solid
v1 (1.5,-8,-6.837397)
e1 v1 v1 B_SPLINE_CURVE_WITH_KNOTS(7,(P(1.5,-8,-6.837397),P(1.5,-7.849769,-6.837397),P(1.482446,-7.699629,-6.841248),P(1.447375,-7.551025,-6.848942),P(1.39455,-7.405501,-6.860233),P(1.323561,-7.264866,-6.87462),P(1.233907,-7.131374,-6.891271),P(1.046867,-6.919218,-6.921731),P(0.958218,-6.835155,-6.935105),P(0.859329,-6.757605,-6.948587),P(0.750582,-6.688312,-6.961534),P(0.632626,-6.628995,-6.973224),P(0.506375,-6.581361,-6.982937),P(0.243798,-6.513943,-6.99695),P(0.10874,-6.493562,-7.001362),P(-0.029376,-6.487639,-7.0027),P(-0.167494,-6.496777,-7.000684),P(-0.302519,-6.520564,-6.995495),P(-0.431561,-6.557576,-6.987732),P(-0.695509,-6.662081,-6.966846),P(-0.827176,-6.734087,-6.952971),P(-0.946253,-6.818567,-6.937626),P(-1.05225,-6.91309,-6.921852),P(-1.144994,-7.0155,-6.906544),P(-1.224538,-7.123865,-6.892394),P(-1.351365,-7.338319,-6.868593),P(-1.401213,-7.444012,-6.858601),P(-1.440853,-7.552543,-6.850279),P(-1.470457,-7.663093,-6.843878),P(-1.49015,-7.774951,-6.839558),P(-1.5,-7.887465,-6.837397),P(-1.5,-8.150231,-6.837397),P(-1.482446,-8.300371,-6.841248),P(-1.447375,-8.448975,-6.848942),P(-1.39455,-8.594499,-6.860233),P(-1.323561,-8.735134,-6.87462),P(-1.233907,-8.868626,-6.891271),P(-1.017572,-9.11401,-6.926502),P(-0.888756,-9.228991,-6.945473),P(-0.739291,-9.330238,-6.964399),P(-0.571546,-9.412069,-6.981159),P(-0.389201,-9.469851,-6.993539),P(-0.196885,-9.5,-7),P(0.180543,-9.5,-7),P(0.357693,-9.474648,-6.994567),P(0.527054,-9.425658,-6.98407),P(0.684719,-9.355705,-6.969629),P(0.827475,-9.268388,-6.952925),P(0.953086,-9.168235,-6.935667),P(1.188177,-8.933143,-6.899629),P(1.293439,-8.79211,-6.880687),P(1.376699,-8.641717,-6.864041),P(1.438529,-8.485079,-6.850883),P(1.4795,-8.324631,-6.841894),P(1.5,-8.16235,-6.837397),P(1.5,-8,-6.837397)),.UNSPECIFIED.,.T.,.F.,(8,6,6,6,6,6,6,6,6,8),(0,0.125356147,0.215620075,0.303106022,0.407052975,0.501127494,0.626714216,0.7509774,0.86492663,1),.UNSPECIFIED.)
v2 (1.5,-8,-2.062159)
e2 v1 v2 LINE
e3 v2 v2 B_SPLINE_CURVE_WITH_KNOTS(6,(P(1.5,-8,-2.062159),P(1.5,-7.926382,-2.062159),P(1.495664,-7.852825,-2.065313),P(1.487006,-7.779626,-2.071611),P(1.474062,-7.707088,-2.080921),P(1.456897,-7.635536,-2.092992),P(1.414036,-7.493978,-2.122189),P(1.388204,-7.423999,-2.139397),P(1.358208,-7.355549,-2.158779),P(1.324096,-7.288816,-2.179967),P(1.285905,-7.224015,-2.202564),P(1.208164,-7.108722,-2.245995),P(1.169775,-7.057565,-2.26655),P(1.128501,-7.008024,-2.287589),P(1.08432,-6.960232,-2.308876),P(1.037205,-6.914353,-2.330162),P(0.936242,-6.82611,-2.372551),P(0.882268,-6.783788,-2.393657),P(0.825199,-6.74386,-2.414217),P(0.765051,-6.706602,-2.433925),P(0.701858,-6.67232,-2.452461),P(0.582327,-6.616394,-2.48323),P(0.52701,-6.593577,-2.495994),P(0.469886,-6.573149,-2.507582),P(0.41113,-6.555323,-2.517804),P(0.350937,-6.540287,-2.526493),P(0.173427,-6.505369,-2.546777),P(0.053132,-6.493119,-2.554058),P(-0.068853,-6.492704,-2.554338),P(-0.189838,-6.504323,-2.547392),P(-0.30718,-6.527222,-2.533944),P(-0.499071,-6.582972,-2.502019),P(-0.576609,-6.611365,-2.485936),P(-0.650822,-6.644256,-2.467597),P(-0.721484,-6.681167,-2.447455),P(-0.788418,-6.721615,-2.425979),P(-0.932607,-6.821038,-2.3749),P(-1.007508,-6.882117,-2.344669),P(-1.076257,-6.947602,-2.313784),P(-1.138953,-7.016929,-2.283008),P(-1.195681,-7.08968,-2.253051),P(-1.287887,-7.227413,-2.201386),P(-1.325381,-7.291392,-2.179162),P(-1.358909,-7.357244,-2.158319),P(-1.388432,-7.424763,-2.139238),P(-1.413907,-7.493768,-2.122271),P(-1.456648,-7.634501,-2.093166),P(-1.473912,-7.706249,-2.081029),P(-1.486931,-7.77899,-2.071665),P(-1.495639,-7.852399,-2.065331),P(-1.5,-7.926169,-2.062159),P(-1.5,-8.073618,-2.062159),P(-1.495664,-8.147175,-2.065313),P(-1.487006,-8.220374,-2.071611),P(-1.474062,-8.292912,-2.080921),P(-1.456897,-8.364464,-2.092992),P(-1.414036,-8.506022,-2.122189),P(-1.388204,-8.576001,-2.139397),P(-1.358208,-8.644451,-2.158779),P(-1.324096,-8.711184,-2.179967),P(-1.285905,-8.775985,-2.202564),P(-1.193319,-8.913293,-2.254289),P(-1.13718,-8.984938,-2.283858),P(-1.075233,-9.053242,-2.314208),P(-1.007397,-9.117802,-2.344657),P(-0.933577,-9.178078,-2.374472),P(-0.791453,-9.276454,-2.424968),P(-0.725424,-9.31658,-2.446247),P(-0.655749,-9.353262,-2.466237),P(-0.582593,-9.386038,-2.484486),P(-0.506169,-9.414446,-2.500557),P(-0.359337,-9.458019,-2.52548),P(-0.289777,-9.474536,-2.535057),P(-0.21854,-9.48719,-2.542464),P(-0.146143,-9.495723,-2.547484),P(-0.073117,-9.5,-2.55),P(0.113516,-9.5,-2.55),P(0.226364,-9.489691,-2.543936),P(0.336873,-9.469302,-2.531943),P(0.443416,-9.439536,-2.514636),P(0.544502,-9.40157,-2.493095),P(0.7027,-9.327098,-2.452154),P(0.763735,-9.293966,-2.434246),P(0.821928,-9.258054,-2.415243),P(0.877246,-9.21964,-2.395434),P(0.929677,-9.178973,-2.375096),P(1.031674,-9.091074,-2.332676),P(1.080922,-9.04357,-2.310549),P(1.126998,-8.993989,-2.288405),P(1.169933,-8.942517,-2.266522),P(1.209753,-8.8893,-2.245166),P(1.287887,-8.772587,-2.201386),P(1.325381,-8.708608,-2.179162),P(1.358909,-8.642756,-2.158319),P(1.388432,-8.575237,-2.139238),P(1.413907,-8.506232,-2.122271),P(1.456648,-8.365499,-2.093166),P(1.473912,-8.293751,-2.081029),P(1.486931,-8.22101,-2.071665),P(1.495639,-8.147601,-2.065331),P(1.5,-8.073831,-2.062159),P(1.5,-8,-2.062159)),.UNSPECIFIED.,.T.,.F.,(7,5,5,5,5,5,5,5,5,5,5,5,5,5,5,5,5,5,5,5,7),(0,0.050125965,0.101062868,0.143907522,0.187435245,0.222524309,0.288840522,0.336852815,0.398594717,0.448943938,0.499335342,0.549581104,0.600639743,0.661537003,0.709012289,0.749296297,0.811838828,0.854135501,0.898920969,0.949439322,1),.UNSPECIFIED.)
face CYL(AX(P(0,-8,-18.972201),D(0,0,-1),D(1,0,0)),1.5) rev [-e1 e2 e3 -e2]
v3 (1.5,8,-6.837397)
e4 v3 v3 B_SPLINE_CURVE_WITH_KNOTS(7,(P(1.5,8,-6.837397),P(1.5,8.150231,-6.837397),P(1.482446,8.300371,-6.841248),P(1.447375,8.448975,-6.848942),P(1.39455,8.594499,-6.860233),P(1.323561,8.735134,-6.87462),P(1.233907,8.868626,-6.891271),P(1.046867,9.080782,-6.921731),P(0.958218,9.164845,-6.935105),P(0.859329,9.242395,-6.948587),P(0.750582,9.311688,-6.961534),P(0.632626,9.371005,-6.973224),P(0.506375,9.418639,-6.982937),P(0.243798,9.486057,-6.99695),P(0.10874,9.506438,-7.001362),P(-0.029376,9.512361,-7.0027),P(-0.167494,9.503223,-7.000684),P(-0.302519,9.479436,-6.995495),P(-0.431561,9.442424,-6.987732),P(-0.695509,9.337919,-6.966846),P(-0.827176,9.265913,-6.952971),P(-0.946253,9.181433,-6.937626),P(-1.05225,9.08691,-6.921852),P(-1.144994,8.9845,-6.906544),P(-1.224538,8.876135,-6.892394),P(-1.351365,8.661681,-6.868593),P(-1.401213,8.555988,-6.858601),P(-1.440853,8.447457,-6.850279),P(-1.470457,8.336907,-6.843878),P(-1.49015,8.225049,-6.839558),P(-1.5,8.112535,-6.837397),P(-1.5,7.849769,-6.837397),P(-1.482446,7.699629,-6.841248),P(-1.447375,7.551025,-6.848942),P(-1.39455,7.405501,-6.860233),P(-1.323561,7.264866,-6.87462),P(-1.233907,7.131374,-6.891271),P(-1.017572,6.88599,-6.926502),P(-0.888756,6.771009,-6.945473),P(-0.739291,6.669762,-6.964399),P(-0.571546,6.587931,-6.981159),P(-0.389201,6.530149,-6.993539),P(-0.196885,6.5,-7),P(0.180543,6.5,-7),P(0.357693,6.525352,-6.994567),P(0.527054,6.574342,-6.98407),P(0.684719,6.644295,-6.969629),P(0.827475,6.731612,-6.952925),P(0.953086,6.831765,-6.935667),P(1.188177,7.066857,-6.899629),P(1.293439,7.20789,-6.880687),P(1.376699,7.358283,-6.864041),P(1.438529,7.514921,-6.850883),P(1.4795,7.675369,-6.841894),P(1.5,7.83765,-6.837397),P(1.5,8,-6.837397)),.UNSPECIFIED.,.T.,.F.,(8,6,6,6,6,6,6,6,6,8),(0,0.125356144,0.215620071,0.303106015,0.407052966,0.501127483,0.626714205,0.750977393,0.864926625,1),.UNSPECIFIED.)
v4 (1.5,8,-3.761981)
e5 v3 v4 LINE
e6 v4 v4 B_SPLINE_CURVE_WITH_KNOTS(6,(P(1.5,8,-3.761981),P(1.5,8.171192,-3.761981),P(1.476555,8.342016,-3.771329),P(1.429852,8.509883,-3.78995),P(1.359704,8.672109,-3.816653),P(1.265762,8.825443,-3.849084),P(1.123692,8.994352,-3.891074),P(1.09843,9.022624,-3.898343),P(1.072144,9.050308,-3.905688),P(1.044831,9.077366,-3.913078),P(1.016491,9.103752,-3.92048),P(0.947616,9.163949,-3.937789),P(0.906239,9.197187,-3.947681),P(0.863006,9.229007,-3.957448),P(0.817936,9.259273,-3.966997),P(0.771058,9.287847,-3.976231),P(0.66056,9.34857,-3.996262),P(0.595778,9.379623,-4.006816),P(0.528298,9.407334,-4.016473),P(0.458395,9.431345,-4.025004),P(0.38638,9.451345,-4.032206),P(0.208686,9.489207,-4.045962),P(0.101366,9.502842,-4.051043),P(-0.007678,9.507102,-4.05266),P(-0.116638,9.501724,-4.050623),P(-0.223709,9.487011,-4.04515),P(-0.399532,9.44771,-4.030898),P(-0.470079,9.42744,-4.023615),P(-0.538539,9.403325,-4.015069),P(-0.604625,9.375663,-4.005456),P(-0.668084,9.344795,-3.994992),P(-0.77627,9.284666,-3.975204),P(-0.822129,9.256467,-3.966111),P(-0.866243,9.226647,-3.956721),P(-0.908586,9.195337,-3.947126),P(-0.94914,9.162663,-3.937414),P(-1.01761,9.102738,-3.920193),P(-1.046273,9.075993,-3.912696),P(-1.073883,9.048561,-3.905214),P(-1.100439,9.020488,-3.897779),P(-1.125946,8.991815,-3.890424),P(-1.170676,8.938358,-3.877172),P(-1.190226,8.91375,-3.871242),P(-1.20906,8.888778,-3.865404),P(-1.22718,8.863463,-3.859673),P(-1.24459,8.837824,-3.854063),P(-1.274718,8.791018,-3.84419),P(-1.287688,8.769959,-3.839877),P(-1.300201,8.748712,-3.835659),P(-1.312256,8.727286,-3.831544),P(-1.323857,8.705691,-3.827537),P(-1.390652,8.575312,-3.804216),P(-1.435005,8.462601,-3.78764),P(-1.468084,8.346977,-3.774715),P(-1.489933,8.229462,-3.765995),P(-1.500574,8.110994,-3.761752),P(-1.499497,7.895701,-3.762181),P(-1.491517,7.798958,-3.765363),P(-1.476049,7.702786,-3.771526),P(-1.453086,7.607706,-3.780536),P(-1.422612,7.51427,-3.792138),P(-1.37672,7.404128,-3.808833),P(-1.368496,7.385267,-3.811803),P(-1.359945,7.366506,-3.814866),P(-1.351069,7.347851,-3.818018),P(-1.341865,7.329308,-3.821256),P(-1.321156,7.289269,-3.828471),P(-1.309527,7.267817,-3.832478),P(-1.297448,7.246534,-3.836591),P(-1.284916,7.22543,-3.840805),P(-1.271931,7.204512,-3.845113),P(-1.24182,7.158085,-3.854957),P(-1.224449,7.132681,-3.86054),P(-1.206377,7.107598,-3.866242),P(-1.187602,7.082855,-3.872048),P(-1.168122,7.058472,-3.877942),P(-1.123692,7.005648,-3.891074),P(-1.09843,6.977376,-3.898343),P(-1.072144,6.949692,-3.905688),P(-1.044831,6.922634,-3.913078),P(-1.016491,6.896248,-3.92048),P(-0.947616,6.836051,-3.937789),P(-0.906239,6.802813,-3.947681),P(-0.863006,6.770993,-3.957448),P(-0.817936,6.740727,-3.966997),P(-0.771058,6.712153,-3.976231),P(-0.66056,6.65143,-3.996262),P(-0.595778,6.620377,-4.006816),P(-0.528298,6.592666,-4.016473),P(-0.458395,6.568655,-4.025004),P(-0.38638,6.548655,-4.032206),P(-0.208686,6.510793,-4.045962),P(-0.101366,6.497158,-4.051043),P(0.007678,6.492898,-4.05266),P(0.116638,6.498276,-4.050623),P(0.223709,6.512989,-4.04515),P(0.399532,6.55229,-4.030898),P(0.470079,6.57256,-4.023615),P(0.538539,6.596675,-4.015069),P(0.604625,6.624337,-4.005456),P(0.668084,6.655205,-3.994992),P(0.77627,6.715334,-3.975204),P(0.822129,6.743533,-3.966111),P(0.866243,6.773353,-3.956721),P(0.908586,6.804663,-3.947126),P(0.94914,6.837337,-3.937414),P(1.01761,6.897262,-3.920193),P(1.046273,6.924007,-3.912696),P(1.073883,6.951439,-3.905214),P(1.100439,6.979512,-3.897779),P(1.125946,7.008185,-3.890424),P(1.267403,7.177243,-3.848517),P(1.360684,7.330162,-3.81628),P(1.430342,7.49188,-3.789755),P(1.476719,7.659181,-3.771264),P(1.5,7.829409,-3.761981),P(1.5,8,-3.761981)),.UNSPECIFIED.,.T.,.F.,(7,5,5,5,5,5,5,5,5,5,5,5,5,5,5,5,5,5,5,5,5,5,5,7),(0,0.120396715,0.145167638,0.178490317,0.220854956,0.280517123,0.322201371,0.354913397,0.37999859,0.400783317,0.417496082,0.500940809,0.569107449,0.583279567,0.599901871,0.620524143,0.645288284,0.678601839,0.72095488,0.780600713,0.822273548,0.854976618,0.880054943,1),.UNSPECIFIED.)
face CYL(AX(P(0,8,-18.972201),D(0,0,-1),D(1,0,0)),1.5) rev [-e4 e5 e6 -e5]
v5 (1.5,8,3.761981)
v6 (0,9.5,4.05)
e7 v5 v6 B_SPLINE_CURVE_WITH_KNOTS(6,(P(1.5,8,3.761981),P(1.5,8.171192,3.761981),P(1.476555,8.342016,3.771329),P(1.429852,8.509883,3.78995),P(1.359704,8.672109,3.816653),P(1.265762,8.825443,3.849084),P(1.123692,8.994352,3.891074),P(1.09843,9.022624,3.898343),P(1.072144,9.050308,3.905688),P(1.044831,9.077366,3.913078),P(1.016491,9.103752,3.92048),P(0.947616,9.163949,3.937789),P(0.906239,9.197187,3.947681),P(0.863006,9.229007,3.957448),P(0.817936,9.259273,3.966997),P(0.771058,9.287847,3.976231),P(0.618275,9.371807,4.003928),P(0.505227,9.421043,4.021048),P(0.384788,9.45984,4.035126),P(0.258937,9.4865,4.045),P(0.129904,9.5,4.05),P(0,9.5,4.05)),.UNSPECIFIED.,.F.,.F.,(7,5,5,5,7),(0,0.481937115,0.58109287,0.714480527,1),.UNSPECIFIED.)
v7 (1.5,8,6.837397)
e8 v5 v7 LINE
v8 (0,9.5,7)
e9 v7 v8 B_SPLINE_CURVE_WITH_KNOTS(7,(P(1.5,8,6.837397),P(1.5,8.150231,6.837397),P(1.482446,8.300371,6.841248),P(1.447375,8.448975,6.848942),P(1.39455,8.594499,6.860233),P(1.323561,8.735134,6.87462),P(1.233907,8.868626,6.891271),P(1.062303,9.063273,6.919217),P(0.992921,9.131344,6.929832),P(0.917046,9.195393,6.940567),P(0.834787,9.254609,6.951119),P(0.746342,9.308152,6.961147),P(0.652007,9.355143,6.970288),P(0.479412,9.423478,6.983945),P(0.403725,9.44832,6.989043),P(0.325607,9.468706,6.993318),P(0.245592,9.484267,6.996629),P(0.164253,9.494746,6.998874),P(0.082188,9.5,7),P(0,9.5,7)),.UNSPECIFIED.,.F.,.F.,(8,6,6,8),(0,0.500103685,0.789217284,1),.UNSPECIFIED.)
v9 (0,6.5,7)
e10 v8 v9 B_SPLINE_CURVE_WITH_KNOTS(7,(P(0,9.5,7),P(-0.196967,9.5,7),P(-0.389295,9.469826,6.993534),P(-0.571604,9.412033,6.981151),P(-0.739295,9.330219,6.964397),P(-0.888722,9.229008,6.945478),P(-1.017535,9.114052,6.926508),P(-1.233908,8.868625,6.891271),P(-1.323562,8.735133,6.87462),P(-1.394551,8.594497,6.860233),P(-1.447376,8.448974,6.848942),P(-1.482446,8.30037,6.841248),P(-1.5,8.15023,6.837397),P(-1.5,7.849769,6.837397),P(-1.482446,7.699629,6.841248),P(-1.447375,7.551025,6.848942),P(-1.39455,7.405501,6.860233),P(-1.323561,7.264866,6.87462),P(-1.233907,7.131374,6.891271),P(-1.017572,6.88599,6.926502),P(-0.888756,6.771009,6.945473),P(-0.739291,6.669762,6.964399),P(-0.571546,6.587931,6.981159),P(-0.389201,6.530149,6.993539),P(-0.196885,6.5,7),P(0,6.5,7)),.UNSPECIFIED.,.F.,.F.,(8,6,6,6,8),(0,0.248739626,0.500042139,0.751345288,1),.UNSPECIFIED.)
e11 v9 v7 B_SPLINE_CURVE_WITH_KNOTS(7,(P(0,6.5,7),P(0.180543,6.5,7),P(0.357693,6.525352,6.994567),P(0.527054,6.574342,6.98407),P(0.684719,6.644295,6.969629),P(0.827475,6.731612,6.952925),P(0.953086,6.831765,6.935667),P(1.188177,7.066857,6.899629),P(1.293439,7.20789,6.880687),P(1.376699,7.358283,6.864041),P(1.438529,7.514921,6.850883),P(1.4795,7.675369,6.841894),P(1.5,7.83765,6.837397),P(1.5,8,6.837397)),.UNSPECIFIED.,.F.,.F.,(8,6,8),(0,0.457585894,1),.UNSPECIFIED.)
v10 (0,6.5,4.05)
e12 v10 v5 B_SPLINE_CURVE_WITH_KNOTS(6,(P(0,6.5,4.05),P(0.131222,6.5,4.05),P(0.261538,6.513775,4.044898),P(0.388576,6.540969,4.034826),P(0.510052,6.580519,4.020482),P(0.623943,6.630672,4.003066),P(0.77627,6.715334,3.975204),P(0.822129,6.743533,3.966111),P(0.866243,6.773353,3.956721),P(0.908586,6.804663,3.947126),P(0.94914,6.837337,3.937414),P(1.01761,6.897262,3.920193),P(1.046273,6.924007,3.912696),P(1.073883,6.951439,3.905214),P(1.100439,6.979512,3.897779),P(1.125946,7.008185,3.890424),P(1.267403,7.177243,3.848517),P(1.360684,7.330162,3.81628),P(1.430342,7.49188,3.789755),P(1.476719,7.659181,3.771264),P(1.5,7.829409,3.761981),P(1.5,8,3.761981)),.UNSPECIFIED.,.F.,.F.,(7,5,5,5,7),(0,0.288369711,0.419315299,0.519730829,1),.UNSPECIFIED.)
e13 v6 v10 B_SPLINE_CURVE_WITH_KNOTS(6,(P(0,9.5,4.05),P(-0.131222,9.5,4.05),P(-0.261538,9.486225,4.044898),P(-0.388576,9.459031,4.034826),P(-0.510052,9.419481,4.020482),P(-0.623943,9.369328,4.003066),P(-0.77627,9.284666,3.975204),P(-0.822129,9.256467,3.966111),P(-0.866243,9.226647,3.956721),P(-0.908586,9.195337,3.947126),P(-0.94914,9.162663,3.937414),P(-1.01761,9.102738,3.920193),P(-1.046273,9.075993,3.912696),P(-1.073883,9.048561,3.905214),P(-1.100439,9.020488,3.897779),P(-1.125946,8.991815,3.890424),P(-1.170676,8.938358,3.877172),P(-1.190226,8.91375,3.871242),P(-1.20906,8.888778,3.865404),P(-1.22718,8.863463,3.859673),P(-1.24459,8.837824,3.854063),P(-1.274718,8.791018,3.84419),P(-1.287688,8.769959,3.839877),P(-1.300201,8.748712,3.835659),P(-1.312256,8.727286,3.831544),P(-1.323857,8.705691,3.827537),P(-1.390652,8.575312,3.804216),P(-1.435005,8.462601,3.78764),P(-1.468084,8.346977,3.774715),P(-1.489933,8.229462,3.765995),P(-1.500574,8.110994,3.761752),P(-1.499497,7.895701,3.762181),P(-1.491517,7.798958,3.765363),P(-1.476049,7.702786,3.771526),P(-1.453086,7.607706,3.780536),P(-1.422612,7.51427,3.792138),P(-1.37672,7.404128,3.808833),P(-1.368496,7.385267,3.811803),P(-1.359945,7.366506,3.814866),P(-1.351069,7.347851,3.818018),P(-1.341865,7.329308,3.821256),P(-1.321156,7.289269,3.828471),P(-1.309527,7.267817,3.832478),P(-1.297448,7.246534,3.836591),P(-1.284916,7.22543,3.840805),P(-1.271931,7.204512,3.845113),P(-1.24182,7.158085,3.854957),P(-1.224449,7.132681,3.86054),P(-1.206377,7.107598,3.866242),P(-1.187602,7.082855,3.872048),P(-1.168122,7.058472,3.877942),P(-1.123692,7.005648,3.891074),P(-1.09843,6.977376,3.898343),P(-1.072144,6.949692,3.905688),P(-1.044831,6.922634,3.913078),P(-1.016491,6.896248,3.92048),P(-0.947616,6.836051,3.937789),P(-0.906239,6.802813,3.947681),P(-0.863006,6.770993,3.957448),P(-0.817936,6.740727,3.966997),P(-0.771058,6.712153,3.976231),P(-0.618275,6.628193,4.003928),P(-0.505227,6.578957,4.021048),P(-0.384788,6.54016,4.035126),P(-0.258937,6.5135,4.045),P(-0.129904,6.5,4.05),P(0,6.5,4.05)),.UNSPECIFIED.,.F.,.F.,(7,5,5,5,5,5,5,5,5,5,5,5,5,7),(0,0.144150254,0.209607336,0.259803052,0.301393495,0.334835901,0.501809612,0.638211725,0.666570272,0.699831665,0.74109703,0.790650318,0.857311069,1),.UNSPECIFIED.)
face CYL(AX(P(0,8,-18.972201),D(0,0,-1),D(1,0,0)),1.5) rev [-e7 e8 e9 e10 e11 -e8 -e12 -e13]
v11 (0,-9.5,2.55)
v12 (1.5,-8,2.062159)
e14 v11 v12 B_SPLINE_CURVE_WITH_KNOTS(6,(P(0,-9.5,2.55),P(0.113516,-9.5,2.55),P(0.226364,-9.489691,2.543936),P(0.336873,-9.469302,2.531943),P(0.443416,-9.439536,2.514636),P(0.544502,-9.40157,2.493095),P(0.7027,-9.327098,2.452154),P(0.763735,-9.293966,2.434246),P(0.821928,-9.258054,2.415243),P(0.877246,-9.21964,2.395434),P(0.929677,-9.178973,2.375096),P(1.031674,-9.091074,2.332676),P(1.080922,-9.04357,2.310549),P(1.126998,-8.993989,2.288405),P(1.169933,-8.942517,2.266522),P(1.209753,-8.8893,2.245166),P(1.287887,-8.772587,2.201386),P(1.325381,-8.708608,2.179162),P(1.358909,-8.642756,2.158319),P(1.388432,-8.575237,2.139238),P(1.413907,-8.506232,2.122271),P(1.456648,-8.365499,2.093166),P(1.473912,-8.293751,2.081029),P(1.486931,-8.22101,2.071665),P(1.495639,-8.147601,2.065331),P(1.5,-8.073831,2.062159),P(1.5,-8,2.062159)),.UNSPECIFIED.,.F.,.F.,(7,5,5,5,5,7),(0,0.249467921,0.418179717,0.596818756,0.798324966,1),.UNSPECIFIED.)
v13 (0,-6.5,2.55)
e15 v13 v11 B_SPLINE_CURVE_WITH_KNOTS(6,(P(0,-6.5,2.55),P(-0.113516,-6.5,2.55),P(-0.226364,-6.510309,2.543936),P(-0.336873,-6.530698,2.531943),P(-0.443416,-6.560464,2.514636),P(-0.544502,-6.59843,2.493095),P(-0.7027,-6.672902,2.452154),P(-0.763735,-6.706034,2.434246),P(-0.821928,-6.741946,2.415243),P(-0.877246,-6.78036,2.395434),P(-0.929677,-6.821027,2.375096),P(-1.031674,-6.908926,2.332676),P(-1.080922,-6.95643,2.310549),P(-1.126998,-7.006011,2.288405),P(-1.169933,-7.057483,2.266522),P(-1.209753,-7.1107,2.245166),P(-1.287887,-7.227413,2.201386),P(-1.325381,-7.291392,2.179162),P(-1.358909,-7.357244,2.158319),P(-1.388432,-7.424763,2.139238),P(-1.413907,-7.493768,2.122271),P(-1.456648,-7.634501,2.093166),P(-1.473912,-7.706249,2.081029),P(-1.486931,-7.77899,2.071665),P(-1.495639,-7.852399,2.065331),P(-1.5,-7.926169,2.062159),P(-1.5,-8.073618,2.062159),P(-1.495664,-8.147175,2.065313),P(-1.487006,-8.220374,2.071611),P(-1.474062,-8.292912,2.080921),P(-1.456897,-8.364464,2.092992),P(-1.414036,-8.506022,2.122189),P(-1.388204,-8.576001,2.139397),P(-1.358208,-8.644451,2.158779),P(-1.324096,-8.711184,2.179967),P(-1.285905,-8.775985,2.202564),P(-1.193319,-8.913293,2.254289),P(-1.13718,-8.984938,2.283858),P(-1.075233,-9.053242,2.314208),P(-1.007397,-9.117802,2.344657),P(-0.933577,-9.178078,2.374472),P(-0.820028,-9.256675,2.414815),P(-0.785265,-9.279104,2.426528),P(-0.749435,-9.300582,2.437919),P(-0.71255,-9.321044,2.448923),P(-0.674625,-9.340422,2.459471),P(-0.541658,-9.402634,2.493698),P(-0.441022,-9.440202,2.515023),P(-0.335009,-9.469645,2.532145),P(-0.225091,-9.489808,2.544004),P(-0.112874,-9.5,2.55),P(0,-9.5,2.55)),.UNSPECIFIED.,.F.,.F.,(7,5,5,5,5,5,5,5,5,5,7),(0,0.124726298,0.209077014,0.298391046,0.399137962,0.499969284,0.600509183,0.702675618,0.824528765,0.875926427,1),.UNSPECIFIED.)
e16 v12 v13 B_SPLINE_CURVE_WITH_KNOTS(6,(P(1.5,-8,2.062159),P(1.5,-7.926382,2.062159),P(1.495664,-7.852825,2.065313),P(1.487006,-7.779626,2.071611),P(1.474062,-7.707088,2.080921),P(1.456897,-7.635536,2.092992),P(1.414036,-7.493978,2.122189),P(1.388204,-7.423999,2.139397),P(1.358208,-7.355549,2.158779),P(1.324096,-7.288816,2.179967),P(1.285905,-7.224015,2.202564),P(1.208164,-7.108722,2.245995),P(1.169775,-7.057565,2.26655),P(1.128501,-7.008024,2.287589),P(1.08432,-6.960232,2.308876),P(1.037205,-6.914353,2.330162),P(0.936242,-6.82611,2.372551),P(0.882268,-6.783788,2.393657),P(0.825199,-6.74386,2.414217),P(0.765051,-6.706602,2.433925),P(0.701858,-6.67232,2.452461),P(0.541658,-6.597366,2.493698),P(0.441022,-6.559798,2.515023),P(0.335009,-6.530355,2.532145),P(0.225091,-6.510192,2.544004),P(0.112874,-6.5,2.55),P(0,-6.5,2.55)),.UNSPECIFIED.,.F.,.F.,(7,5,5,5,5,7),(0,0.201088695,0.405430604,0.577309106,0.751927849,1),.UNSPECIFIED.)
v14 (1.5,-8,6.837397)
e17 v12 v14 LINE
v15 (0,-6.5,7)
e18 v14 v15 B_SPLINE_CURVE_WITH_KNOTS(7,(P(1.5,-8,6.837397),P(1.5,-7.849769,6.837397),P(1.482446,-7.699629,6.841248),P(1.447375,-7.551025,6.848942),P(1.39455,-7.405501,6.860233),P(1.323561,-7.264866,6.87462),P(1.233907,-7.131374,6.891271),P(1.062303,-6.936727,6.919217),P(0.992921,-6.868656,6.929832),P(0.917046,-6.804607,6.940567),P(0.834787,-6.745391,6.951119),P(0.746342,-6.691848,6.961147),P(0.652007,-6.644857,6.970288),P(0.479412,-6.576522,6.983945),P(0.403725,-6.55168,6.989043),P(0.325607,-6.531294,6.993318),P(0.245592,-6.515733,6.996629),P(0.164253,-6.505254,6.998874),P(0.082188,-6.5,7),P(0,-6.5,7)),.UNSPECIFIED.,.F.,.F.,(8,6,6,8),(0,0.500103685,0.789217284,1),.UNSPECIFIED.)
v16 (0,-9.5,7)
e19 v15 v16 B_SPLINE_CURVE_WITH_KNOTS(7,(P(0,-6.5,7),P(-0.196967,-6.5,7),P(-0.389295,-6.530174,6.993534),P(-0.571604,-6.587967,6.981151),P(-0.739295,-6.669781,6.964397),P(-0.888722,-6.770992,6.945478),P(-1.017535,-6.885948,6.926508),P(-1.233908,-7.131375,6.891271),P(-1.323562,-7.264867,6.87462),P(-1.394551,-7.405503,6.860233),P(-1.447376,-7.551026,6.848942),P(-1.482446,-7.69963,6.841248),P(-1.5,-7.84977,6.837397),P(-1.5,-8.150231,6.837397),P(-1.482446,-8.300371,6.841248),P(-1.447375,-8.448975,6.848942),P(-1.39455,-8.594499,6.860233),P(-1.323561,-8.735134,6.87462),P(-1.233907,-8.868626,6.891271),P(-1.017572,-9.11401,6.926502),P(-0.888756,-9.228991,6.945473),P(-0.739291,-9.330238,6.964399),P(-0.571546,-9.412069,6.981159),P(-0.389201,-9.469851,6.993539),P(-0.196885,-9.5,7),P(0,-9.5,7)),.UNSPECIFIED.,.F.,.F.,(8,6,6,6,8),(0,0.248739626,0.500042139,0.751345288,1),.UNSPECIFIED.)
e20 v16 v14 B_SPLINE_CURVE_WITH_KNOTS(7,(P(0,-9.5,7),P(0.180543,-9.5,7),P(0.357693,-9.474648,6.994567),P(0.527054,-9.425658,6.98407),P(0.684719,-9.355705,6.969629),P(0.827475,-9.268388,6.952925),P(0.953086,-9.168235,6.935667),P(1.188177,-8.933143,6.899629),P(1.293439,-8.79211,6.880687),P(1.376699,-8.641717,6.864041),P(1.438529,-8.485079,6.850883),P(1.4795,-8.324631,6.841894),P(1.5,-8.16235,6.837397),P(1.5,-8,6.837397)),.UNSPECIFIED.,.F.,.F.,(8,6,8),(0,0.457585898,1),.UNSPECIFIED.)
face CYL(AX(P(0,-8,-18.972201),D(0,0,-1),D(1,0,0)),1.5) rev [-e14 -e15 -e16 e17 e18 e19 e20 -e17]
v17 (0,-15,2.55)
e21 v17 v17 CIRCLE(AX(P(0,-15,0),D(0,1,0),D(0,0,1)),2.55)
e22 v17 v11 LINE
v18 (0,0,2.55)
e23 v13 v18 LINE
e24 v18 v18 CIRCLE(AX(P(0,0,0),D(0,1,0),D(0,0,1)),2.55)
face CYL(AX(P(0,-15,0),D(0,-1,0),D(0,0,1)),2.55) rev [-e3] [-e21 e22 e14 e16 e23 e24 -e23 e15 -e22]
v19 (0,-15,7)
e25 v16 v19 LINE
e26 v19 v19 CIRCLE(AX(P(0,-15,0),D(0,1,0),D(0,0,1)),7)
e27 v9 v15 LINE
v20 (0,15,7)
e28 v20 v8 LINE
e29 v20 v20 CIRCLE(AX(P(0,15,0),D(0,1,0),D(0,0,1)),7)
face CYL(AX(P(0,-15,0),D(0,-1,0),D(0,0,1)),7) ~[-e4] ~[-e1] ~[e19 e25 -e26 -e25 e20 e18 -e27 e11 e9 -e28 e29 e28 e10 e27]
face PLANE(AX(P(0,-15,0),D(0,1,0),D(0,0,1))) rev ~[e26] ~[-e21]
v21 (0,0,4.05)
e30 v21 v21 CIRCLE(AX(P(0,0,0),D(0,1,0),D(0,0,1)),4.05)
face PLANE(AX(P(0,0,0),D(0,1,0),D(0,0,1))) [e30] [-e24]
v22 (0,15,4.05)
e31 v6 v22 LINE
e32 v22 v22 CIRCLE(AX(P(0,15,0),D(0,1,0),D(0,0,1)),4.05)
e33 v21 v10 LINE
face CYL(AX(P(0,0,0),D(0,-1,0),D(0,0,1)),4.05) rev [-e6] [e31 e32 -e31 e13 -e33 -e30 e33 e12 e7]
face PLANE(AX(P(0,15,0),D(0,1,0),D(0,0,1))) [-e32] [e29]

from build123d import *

# Parameters (mm, degrees)
SKETCH1_R               = 7
SKETCH1_R_2             = 4.05
BOSS_EXTRUDE1_DEPTH     = 15
BOSS_EXTRUDE2_START     = -15
SKETCH1_3_R             = 7
SKETCH1_3_R_2           = 2.55
BOSS_EXTRUDE2_DEPTH     = 15
CUT_EXTRUDE1_DEPTH      = 18.972200756
CUT_EXTRUDE1_DEPTH_BACK = 18.972200756
SKETCH2_R               = 1.5


with BuildPart() as part:
    # Sketch1 → Boss-Extrude1 (new body)
    with BuildSketch(Plane(origin=(0, 0, 0), x_dir=(1, 0, 0), z_dir=(0, 1, 0))):
        Circle(SKETCH1_R)
        Circle(SKETCH1_R_2, mode=Mode.SUBTRACT)
    extrude(amount=BOSS_EXTRUDE1_DEPTH)

    # Sketch1<3> → Boss-Extrude2 (add)
    with BuildSketch(Plane(origin=(0, 0, 0), x_dir=(1, 0, 0), z_dir=(0, 1, 0)).offset(BOSS_EXTRUDE2_START)):
        Circle(SKETCH1_3_R)
        Circle(SKETCH1_3_R_2, mode=Mode.SUBTRACT)
    extrude(amount=BOSS_EXTRUDE2_DEPTH)

    # Sketch2 → Cut-Extrude1 (cut, two sides: drawn at the far end of the back side and taken through both)
    with BuildSketch(Plane.XY.offset(-CUT_EXTRUDE1_DEPTH_BACK)):
        with Locations((0, 8)):
            Circle(SKETCH2_R)
        with Locations((0, -8)):
            Circle(SKETCH2_R)
    extrude(amount=CUT_EXTRUDE1_DEPTH + CUT_EXTRUDE1_DEPTH_BACK, mode=Mode.SUBTRACT)


solid = part.part
